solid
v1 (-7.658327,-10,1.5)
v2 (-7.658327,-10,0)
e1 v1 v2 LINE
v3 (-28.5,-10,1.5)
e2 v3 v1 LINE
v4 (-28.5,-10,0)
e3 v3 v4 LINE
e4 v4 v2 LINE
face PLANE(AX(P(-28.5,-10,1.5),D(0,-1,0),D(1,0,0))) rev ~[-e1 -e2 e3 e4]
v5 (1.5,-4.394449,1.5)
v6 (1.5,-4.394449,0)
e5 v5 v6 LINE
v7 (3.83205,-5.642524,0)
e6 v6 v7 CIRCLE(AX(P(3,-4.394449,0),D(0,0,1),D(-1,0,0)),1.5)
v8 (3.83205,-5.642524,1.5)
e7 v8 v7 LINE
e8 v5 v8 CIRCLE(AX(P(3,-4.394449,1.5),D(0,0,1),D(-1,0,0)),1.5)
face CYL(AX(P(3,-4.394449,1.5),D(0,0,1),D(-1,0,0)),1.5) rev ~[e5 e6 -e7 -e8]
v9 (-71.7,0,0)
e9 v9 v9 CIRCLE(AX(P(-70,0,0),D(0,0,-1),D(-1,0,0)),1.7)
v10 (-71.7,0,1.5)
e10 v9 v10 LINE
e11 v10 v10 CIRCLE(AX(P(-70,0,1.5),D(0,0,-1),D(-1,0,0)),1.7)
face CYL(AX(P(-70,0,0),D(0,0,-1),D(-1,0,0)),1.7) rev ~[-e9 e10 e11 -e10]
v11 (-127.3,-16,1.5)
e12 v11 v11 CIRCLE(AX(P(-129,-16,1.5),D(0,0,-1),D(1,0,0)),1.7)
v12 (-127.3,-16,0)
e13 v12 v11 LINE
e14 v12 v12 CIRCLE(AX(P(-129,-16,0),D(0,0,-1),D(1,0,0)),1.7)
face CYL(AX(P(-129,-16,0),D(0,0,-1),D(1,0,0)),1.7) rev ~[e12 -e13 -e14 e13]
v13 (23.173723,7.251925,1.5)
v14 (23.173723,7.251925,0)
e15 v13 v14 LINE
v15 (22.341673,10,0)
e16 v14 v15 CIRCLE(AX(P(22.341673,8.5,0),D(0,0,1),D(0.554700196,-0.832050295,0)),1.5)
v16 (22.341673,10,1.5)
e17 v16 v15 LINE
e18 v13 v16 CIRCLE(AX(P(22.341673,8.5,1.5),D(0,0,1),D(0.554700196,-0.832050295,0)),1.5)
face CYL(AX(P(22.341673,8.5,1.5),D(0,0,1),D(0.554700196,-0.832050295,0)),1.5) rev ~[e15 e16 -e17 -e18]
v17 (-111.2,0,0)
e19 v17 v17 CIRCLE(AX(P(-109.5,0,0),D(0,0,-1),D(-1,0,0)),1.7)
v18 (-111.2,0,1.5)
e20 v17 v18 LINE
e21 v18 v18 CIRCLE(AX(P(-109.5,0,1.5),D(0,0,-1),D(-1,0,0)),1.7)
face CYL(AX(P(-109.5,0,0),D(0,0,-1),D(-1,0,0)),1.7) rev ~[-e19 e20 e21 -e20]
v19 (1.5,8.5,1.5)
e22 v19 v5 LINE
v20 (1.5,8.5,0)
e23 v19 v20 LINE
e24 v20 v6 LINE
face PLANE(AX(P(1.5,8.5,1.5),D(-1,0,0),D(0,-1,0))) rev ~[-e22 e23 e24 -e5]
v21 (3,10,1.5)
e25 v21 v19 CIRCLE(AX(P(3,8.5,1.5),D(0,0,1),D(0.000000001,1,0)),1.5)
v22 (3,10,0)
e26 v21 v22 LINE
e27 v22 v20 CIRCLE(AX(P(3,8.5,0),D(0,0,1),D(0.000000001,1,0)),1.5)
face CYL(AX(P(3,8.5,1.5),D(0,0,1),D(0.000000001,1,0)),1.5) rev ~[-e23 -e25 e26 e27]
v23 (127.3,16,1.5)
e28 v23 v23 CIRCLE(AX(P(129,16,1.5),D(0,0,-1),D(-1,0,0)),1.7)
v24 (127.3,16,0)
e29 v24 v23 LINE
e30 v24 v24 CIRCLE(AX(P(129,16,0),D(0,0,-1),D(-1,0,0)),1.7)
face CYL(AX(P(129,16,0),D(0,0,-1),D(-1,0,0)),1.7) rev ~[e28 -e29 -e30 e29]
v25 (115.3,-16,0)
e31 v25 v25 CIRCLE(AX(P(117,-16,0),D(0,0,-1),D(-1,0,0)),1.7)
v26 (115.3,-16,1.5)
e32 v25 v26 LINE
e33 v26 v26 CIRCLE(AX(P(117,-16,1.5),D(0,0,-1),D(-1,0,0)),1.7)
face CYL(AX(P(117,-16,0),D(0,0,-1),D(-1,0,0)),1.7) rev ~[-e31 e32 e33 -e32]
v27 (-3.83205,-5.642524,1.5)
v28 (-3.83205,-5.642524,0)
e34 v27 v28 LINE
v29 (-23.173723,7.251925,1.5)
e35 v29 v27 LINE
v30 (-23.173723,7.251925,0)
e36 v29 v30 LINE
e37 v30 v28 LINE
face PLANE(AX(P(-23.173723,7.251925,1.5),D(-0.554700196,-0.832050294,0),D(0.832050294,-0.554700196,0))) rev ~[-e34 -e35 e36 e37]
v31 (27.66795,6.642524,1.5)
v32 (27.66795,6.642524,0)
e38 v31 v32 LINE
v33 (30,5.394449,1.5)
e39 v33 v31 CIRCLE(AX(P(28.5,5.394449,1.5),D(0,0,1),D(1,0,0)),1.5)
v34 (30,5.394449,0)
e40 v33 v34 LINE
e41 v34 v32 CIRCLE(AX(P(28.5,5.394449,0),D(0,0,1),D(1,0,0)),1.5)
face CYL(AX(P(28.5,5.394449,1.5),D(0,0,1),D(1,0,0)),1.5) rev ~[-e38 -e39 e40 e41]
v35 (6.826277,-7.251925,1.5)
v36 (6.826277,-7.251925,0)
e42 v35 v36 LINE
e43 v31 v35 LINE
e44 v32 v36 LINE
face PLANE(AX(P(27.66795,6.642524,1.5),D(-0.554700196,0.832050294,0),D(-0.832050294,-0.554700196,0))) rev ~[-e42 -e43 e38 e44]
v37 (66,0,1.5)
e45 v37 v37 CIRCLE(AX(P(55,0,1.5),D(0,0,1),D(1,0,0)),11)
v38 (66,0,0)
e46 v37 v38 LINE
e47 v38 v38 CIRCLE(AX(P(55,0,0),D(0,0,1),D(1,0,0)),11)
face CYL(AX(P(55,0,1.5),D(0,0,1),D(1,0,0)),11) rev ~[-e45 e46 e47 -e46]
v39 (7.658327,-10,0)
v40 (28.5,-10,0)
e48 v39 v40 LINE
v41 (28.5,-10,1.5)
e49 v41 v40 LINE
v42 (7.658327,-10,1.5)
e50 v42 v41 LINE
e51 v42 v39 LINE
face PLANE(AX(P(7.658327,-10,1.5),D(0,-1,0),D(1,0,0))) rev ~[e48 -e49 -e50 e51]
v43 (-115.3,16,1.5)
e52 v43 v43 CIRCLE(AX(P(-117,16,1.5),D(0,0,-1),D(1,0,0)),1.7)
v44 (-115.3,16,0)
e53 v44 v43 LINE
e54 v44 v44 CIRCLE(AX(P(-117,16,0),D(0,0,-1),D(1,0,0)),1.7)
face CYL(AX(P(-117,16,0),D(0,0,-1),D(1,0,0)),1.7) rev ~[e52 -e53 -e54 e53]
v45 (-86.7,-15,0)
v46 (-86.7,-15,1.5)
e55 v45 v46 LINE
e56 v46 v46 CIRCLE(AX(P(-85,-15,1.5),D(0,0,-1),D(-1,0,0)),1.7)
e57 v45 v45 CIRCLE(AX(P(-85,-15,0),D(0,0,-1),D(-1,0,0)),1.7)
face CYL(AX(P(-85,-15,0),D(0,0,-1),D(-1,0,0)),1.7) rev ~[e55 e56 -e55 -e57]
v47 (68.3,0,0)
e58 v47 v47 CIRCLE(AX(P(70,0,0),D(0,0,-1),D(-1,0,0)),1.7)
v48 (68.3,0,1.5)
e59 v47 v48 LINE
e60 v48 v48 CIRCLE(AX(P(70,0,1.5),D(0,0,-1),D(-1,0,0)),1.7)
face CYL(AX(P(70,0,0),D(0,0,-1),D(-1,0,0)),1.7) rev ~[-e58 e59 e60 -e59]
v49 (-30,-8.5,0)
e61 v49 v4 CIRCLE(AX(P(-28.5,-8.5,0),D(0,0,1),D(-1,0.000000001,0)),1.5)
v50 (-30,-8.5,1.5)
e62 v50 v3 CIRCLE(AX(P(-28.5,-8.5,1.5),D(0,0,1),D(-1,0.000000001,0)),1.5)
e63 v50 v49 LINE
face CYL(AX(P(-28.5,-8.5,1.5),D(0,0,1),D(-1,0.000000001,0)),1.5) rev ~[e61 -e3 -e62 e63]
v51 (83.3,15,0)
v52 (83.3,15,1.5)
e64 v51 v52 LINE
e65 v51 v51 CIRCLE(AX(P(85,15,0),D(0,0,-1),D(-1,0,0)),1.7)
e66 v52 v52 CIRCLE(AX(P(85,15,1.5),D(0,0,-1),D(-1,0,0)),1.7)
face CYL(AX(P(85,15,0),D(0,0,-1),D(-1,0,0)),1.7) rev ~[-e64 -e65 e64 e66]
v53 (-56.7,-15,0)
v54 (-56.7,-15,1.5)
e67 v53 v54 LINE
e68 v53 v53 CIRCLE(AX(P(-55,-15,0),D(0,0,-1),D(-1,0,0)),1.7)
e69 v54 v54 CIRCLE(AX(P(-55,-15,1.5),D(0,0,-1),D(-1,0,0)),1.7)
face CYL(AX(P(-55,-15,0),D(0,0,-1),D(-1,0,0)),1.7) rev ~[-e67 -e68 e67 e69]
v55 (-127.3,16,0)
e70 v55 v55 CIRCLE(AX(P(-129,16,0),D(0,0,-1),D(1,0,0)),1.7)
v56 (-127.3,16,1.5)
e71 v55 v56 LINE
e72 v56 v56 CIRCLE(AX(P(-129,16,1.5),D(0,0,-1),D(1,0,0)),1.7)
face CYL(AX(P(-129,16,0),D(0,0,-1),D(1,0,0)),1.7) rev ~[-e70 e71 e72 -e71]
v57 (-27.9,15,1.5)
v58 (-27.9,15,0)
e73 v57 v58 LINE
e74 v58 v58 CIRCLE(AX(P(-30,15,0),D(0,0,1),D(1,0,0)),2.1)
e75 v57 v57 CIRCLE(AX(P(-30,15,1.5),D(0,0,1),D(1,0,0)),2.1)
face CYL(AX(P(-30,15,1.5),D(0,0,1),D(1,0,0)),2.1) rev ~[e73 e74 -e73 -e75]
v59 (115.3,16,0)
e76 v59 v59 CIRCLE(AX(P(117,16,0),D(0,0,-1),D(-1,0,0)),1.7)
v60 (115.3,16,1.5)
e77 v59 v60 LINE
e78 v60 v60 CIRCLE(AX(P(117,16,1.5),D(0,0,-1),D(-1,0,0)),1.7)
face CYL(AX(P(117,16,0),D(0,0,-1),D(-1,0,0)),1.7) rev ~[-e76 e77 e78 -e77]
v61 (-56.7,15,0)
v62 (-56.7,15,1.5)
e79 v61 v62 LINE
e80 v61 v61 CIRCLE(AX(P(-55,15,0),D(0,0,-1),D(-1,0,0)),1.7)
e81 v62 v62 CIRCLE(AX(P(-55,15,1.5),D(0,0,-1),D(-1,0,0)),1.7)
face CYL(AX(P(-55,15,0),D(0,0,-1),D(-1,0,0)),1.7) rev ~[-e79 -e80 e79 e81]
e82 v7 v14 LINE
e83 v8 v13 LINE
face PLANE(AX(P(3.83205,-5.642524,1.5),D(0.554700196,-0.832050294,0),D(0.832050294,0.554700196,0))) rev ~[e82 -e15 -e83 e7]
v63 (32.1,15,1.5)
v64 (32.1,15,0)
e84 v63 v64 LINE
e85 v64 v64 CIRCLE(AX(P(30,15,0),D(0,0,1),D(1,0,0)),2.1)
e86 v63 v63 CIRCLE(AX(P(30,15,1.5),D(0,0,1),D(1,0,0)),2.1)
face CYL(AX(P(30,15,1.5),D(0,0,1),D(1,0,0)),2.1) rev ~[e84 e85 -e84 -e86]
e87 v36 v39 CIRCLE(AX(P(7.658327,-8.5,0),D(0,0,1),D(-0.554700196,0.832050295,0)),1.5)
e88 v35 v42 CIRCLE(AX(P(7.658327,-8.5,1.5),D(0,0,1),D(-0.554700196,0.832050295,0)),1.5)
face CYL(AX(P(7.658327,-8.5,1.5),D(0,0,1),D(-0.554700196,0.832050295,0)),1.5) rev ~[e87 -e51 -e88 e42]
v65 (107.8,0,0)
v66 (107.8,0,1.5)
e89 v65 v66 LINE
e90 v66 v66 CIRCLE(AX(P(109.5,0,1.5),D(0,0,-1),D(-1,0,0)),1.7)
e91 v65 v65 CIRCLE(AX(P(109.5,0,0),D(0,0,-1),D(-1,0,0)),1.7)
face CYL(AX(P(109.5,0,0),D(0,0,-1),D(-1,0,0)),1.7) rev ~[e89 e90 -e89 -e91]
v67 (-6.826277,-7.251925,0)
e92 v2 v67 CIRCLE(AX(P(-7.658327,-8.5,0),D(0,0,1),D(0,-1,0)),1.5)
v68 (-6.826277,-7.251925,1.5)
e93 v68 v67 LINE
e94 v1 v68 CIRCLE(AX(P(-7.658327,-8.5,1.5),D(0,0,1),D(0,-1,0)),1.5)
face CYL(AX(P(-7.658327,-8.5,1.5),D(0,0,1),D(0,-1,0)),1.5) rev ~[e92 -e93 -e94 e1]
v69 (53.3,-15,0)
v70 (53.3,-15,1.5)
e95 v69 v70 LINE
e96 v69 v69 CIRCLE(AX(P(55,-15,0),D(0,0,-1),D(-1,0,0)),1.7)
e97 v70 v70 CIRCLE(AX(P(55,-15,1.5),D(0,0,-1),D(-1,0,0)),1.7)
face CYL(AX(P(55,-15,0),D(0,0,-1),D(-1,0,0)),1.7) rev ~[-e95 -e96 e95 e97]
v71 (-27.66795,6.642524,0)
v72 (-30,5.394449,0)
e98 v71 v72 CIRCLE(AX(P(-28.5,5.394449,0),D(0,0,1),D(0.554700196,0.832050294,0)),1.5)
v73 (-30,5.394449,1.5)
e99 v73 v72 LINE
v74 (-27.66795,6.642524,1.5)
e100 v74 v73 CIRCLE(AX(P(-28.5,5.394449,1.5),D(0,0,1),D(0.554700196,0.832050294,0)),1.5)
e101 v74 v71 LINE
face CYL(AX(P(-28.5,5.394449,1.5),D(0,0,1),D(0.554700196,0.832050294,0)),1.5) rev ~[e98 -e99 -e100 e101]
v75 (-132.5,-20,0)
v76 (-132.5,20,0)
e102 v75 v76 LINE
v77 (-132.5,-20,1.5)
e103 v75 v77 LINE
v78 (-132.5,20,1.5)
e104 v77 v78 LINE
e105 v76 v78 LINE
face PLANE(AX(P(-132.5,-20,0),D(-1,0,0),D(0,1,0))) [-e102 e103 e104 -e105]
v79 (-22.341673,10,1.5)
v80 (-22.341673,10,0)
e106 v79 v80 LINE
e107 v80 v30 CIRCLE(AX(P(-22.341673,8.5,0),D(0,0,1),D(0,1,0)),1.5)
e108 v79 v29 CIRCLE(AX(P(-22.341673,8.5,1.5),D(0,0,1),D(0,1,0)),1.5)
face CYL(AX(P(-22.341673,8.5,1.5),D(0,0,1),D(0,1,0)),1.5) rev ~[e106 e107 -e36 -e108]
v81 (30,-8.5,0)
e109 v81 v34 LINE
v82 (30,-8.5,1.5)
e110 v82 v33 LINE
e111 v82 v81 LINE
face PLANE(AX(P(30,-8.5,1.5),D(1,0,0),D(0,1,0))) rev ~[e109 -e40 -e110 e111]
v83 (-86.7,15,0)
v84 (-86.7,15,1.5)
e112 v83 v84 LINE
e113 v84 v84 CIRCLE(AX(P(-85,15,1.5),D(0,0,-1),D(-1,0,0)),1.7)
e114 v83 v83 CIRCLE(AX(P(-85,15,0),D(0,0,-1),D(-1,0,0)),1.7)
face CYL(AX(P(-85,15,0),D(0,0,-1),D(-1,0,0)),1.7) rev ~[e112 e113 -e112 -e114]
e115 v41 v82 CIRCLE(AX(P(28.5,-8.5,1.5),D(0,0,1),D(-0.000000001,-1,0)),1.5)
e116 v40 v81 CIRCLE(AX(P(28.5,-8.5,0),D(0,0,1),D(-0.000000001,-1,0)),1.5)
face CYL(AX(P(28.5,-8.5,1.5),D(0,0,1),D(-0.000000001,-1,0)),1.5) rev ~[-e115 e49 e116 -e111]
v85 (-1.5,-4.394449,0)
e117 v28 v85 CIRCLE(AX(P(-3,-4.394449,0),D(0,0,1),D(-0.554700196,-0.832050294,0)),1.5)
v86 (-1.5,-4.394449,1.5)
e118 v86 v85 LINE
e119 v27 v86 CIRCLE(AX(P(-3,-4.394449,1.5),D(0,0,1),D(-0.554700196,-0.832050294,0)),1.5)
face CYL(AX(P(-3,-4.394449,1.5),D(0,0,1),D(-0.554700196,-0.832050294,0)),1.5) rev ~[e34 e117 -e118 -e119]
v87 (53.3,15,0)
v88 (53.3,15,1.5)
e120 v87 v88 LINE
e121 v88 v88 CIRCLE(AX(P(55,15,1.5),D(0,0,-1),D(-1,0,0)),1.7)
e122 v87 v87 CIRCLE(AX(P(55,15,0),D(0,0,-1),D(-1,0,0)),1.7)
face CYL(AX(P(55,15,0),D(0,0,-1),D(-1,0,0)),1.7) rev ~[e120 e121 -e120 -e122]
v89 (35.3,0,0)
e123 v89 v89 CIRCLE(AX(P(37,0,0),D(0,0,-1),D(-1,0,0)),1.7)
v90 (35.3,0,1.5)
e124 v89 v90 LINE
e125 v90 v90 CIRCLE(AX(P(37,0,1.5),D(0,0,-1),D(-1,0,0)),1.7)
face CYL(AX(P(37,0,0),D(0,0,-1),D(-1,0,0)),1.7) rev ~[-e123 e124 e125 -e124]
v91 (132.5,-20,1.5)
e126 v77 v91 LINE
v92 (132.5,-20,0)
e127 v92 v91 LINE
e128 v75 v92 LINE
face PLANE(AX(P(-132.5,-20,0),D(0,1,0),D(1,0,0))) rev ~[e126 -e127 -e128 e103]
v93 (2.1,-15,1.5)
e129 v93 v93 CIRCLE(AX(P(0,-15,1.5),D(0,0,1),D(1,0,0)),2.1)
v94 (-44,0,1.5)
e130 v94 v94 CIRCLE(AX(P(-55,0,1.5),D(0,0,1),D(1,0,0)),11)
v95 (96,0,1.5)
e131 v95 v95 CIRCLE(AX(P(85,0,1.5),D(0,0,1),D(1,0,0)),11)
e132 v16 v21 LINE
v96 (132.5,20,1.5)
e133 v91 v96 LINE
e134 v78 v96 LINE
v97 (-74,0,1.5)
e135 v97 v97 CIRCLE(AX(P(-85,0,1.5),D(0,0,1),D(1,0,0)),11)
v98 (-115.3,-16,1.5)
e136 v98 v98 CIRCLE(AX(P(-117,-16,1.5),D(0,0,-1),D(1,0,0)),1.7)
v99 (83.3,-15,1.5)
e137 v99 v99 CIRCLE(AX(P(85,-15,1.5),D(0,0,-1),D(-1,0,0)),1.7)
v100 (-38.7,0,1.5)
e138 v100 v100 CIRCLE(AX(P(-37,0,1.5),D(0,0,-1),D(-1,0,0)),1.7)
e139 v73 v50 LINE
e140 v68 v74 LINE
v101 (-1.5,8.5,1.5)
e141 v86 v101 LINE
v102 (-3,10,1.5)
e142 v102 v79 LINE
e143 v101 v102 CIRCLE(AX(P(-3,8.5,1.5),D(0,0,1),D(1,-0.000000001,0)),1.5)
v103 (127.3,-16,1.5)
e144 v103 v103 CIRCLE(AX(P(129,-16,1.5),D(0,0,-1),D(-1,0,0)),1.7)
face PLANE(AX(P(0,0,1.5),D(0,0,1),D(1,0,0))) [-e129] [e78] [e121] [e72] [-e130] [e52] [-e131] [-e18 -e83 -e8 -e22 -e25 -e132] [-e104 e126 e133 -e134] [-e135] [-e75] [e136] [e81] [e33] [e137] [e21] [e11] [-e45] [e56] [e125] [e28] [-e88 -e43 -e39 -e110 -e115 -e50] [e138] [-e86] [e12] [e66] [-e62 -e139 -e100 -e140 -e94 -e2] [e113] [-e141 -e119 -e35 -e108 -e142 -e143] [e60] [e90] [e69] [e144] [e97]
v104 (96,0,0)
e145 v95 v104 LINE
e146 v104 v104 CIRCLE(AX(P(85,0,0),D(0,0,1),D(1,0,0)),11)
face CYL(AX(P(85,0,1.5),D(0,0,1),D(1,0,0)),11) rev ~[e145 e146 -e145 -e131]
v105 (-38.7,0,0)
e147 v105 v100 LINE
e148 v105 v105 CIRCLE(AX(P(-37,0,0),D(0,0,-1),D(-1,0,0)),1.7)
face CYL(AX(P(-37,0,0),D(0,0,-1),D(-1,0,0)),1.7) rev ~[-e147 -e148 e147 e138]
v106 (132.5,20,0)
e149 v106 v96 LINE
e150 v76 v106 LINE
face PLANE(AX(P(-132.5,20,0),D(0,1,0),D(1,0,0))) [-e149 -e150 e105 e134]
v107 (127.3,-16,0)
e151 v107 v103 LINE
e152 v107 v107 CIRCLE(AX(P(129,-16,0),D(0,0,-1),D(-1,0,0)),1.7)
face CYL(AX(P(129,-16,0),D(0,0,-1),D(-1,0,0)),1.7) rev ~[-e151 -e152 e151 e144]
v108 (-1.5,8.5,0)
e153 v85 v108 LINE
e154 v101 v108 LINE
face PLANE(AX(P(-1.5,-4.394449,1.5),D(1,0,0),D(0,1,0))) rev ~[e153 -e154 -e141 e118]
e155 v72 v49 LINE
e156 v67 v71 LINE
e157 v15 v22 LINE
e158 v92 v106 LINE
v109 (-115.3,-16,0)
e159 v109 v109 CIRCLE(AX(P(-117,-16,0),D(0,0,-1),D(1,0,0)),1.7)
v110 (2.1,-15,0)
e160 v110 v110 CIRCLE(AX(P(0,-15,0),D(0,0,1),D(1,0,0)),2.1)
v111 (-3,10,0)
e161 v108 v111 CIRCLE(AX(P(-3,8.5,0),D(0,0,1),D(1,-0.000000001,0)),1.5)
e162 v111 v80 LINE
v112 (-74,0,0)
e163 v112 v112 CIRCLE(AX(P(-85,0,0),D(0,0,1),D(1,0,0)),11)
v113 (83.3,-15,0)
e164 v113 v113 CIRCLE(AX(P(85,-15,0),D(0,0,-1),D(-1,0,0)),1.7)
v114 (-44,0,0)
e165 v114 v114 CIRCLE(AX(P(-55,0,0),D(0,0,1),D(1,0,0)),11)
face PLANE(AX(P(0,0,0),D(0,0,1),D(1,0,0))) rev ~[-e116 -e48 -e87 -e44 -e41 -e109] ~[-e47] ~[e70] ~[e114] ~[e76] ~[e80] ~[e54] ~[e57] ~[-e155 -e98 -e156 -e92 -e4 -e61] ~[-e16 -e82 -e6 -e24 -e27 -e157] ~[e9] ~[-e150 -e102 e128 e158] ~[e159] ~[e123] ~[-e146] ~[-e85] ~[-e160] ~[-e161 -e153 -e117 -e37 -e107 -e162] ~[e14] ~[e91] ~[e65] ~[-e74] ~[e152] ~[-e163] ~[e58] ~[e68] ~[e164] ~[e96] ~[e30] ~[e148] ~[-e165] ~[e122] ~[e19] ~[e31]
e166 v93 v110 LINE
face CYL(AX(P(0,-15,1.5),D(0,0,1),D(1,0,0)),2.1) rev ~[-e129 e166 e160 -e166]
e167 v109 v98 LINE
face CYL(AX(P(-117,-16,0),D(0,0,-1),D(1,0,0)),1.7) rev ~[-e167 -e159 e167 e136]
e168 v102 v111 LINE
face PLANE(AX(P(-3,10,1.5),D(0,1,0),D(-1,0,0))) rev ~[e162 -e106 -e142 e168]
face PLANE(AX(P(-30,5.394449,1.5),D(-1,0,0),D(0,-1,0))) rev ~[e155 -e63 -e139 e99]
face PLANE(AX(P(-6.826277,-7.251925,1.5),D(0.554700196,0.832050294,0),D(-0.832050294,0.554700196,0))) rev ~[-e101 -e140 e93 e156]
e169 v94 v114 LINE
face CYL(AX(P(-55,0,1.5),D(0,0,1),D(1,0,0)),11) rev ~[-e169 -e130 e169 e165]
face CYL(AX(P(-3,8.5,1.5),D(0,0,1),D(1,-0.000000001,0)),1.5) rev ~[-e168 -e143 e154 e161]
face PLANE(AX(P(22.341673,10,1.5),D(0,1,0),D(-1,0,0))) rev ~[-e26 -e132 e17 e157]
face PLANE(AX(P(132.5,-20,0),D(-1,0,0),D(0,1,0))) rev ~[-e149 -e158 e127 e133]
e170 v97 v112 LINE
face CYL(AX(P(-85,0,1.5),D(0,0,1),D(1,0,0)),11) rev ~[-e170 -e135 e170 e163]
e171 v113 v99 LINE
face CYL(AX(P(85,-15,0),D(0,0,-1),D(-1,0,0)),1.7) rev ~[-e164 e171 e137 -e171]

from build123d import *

# Parameters (mm, degrees)
SKETCH_1_W          = 265
SKETCH_1_H          = 40
EXTRUDE_1_DEPTH     = 1.5
SKETCH_2_R          = 11
SKETCH_2_R_2        = 2.1
CUT_EXTRUDE_1_DEPTH = 135.009328034
SKETCH_3_R          = 2.1
SKETCH_3_R_2        = 11
SKETCH_3_R_3        = 1.7
CUT_EXTRUDE_2_DEPTH = 135.009328034
SKETCH_4_R          = 1.7
CUT_EXTRUDE_3_DEPTH = 135.009328034


with BuildPart() as part:
    # 草图1 → 凸台-拉伸1 (new body)
    with BuildSketch(Plane.XY):
        Rectangle(SKETCH_1_W, SKETCH_1_H)
    extrude(amount=EXTRUDE_1_DEPTH)

    # 草图2 → 切除-拉伸1 (cut, through all)
    with BuildSketch(Plane.XY.offset(1.5)):
        with Locations((85, 0)):
            Circle(SKETCH_2_R)
        with Locations((55, 0)):
            Circle(SKETCH_2_R)
        with Locations((0, -15)):
            Circle(SKETCH_2_R_2)
        with Locations((30, 15)):
            Circle(SKETCH_2_R_2)
        with Locations((-30, 15)):
            Circle(SKETCH_2_R_2)
        with Locations((-55, 0)):
            Circle(SKETCH_2_R)
        with Locations((-85, 0)):
            Circle(SKETCH_2_R)
        with BuildLine():
            Line((30, -8.5), (30, 5.394448725))
            ThreePointArc((30, 5.394448725), (29.207786888, 6.716960623), (27.667949706, 6.642524166))
            Line((27.667949706, 6.642524166), (6.826276619, -7.251924558))
            ThreePointArc((6.826276619, -7.251924558), (6.222688873, -8.934676223), (7.658326913, -10))
            Line((7.658326913, -10), (28.5, -10))
            ThreePointArc((28.5, -10), (29.560660172, -9.560660172), (30, -8.5))
        make_face()
        with BuildLine():
            Line((3.832050294, -5.642524166), (23.173723381, 7.251924558))
            ThreePointArc((23.173723381, 7.251924558), (23.777311127, 8.934676223), (22.341673087, 10))
            Line((22.341673087, 10), (3, 10))
            ThreePointArc((3, 10), (1.939339828, 9.560660172), (1.5, 8.5))
            Line((1.5, 8.5), (1.5, -4.394448725))
            ThreePointArc((1.5, -4.394448725), (2.292213112, -5.716960623), (3.832050294, -5.642524166))
        make_face()
        with BuildLine():
            Line((-1.5, -4.394448725), (-1.5, 8.5))
            ThreePointArc((-1.5, 8.5), (-1.939339828, 9.560660172), (-3, 10))
            Line((-3, 10), (-22.341673087, 10))
            ThreePointArc((-22.341673087, 10), (-23.777311127, 8.934676223), (-23.173723381, 7.251924558))
            Line((-23.173723381, 7.251924558), (-3.832050294, -5.642524166))
            ThreePointArc((-3.832050294, -5.642524166), (-2.292213112, -5.716960623), (-1.5, -4.394448725))
        make_face()
        with BuildLine():
            Line((-6.826276619, -7.251924558), (-27.667949706, 6.642524166))
            ThreePointArc((-27.667949706, 6.642524166), (-29.207786888, 6.716960623), (-30, 5.394448725))
            Line((-30, 5.394448725), (-30, -8.5))
            ThreePointArc((-30, -8.5), (-29.560660172, -9.560660172), (-28.5, -10))
            Line((-28.5, -10), (-7.658326913, -10))
            ThreePointArc((-7.658326913, -10), (-6.222688873, -8.934676223), (-6.826276619, -7.251924558))
        make_face()
    extrude(amount=-CUT_EXTRUDE_1_DEPTH, mode=Mode.SUBTRACT)

    # 草图3 → 切除-拉伸2 (cut, through all)
    with BuildSketch(Plane(origin=(0, 0, 0), x_dir=(-1, 0, 0), z_dir=(0, 0, -1))):
        with Locations(Location((0, -15, 0), (0, 0, 180))):
            Circle(SKETCH_3_R)
        with Locations(Location((-30, 15, 0), (0, 0, 180))):
            Circle(SKETCH_3_R)
        with Locations(Location((30, 15, 0), (0, 0, 180))):
            Circle(SKETCH_3_R)
        with Locations(Location((85, 0, 0), (0, 0, 180))):
            Circle(SKETCH_3_R_2)
        with Locations(Location((55, 0, 0), (0, 0, 180))):
            Circle(SKETCH_3_R_2)
        with Locations(Location((-55, 0, 0), (0, 0, 180))):
            Circle(SKETCH_3_R_2)
        with Locations(Location((-85, 0, 0), (0, 0, 180))):
            Circle(SKETCH_3_R_2)
        with Locations((-55, -15)):
            Circle(SKETCH_3_R_3)
        with Locations((55, 15)):
            Circle(SKETCH_3_R_3)
        with Locations((-70, 0)):
            Circle(SKETCH_3_R_3)
        with Locations((-55, 15)):
            Circle(SKETCH_3_R_3)
        with Locations((85, 15)):
            Circle(SKETCH_3_R_3)
        with Locations((-85, 15)):
            Circle(SKETCH_3_R_3)
        with Locations((55, -15)):
            Circle(SKETCH_3_R_3)
        with Locations((85, -15)):
            Circle(SKETCH_3_R_3)
        with Locations((-37, 0)):
            Circle(SKETCH_3_R_3)
        with Locations((37, 0)):
            Circle(SKETCH_3_R_3)
        with Locations((109.5, 0)):
            Circle(SKETCH_3_R_3)
        with Locations((-85, -15)):
            Circle(SKETCH_3_R_3)
        with Locations((-109.5, 0)):
            Circle(SKETCH_3_R_3)
        with Locations((70, 0)):
            Circle(SKETCH_3_R_3)
        with BuildLine():
            Line((-1.5, -4.394448725), (-1.5, 8.5))
            ThreePointArc((-1.5, 8.5), (-1.939339828, 9.560660172), (-3, 10))
            Line((-3, 10), (-22.341673087, 10))
            ThreePointArc((-22.341673087, 10), (-23.777311127, 8.934676223), (-23.173723381, 7.251924558))
            Line((-23.173723381, 7.251924558), (-3.832050294, -5.642524166))
            ThreePointArc((-3.832050294, -5.642524166), (-2.292213112, -5.716960623), (-1.5, -4.394448725))
        make_face()
        with BuildLine():
            Line((30, -8.5), (30, 5.394448725))
            ThreePointArc((30, 5.394448725), (29.207786888, 6.716960623), (27.667949706, 6.642524166))
            Line((27.667949706, 6.642524166), (6.826276619, -7.251924558))
            ThreePointArc((6.826276619, -7.251924558), (6.222688873, -8.934676223), (7.658326913, -10))
            Line((7.658326913, -10), (28.5, -10))
            ThreePointArc((28.5, -10), (29.560660172, -9.560660172), (30, -8.5))
        make_face()
        with BuildLine():
            Line((3.832050294, -5.642524166), (23.173723381, 7.251924558))
            ThreePointArc((23.173723381, 7.251924558), (23.777311127, 8.934676223), (22.341673087, 10))
            Line((22.341673087, 10), (3, 10))
            ThreePointArc((3, 10), (1.939339828, 9.560660172), (1.5, 8.5))
            Line((1.5, 8.5), (1.5, -4.394448725))
            ThreePointArc((1.5, -4.394448725), (2.292213112, -5.716960623), (3.832050294, -5.642524166))
        make_face()
        with BuildLine():
            Line((-6.826276619, -7.251924558), (-27.667949706, 6.642524166))
            ThreePointArc((-27.667949706, 6.642524166), (-29.207786888, 6.716960623), (-30, 5.394448725))
            Line((-30, 5.394448725), (-30, -8.5))
            ThreePointArc((-30, -8.5), (-29.560660172, -9.560660172), (-28.5, -10))
            Line((-28.5, -10), (-7.658326913, -10))
            ThreePointArc((-7.658326913, -10), (-6.222688873, -8.934676223), (-6.826276619, -7.251924558))
        make_face()
    extrude(amount=-CUT_EXTRUDE_2_DEPTH, mode=Mode.SUBTRACT)

    # 草图4 → 切除-拉伸3 (cut, through all)
    with BuildSketch(Plane(origin=(0, 0, 0), x_dir=(-1, 0, 0), z_dir=(0, 0, -1))):
        with Locations((-129, -16)):
            Circle(SKETCH_4_R)
        with Locations((-129, 16)):
            Circle(SKETCH_4_R)
        with Locations((-117, -16)):
            Circle(SKETCH_4_R)
        with Locations((-117, 16)):
            Circle(SKETCH_4_R)
        with Locations(Location((117, 16, 0), (0, 0, 180))):
            Circle(SKETCH_4_R)
        with Locations(Location((117, -16, 0), (0, 0, 180))):
            Circle(SKETCH_4_R)
        with Locations(Location((129, 16, 0), (0, 0, 180))):
            Circle(SKETCH_4_R)
        with Locations(Location((129, -16, 0), (0, 0, 180))):
            Circle(SKETCH_4_R)
    extrude(amount=-CUT_EXTRUDE_3_DEPTH, mode=Mode.SUBTRACT)


solid = part.part
